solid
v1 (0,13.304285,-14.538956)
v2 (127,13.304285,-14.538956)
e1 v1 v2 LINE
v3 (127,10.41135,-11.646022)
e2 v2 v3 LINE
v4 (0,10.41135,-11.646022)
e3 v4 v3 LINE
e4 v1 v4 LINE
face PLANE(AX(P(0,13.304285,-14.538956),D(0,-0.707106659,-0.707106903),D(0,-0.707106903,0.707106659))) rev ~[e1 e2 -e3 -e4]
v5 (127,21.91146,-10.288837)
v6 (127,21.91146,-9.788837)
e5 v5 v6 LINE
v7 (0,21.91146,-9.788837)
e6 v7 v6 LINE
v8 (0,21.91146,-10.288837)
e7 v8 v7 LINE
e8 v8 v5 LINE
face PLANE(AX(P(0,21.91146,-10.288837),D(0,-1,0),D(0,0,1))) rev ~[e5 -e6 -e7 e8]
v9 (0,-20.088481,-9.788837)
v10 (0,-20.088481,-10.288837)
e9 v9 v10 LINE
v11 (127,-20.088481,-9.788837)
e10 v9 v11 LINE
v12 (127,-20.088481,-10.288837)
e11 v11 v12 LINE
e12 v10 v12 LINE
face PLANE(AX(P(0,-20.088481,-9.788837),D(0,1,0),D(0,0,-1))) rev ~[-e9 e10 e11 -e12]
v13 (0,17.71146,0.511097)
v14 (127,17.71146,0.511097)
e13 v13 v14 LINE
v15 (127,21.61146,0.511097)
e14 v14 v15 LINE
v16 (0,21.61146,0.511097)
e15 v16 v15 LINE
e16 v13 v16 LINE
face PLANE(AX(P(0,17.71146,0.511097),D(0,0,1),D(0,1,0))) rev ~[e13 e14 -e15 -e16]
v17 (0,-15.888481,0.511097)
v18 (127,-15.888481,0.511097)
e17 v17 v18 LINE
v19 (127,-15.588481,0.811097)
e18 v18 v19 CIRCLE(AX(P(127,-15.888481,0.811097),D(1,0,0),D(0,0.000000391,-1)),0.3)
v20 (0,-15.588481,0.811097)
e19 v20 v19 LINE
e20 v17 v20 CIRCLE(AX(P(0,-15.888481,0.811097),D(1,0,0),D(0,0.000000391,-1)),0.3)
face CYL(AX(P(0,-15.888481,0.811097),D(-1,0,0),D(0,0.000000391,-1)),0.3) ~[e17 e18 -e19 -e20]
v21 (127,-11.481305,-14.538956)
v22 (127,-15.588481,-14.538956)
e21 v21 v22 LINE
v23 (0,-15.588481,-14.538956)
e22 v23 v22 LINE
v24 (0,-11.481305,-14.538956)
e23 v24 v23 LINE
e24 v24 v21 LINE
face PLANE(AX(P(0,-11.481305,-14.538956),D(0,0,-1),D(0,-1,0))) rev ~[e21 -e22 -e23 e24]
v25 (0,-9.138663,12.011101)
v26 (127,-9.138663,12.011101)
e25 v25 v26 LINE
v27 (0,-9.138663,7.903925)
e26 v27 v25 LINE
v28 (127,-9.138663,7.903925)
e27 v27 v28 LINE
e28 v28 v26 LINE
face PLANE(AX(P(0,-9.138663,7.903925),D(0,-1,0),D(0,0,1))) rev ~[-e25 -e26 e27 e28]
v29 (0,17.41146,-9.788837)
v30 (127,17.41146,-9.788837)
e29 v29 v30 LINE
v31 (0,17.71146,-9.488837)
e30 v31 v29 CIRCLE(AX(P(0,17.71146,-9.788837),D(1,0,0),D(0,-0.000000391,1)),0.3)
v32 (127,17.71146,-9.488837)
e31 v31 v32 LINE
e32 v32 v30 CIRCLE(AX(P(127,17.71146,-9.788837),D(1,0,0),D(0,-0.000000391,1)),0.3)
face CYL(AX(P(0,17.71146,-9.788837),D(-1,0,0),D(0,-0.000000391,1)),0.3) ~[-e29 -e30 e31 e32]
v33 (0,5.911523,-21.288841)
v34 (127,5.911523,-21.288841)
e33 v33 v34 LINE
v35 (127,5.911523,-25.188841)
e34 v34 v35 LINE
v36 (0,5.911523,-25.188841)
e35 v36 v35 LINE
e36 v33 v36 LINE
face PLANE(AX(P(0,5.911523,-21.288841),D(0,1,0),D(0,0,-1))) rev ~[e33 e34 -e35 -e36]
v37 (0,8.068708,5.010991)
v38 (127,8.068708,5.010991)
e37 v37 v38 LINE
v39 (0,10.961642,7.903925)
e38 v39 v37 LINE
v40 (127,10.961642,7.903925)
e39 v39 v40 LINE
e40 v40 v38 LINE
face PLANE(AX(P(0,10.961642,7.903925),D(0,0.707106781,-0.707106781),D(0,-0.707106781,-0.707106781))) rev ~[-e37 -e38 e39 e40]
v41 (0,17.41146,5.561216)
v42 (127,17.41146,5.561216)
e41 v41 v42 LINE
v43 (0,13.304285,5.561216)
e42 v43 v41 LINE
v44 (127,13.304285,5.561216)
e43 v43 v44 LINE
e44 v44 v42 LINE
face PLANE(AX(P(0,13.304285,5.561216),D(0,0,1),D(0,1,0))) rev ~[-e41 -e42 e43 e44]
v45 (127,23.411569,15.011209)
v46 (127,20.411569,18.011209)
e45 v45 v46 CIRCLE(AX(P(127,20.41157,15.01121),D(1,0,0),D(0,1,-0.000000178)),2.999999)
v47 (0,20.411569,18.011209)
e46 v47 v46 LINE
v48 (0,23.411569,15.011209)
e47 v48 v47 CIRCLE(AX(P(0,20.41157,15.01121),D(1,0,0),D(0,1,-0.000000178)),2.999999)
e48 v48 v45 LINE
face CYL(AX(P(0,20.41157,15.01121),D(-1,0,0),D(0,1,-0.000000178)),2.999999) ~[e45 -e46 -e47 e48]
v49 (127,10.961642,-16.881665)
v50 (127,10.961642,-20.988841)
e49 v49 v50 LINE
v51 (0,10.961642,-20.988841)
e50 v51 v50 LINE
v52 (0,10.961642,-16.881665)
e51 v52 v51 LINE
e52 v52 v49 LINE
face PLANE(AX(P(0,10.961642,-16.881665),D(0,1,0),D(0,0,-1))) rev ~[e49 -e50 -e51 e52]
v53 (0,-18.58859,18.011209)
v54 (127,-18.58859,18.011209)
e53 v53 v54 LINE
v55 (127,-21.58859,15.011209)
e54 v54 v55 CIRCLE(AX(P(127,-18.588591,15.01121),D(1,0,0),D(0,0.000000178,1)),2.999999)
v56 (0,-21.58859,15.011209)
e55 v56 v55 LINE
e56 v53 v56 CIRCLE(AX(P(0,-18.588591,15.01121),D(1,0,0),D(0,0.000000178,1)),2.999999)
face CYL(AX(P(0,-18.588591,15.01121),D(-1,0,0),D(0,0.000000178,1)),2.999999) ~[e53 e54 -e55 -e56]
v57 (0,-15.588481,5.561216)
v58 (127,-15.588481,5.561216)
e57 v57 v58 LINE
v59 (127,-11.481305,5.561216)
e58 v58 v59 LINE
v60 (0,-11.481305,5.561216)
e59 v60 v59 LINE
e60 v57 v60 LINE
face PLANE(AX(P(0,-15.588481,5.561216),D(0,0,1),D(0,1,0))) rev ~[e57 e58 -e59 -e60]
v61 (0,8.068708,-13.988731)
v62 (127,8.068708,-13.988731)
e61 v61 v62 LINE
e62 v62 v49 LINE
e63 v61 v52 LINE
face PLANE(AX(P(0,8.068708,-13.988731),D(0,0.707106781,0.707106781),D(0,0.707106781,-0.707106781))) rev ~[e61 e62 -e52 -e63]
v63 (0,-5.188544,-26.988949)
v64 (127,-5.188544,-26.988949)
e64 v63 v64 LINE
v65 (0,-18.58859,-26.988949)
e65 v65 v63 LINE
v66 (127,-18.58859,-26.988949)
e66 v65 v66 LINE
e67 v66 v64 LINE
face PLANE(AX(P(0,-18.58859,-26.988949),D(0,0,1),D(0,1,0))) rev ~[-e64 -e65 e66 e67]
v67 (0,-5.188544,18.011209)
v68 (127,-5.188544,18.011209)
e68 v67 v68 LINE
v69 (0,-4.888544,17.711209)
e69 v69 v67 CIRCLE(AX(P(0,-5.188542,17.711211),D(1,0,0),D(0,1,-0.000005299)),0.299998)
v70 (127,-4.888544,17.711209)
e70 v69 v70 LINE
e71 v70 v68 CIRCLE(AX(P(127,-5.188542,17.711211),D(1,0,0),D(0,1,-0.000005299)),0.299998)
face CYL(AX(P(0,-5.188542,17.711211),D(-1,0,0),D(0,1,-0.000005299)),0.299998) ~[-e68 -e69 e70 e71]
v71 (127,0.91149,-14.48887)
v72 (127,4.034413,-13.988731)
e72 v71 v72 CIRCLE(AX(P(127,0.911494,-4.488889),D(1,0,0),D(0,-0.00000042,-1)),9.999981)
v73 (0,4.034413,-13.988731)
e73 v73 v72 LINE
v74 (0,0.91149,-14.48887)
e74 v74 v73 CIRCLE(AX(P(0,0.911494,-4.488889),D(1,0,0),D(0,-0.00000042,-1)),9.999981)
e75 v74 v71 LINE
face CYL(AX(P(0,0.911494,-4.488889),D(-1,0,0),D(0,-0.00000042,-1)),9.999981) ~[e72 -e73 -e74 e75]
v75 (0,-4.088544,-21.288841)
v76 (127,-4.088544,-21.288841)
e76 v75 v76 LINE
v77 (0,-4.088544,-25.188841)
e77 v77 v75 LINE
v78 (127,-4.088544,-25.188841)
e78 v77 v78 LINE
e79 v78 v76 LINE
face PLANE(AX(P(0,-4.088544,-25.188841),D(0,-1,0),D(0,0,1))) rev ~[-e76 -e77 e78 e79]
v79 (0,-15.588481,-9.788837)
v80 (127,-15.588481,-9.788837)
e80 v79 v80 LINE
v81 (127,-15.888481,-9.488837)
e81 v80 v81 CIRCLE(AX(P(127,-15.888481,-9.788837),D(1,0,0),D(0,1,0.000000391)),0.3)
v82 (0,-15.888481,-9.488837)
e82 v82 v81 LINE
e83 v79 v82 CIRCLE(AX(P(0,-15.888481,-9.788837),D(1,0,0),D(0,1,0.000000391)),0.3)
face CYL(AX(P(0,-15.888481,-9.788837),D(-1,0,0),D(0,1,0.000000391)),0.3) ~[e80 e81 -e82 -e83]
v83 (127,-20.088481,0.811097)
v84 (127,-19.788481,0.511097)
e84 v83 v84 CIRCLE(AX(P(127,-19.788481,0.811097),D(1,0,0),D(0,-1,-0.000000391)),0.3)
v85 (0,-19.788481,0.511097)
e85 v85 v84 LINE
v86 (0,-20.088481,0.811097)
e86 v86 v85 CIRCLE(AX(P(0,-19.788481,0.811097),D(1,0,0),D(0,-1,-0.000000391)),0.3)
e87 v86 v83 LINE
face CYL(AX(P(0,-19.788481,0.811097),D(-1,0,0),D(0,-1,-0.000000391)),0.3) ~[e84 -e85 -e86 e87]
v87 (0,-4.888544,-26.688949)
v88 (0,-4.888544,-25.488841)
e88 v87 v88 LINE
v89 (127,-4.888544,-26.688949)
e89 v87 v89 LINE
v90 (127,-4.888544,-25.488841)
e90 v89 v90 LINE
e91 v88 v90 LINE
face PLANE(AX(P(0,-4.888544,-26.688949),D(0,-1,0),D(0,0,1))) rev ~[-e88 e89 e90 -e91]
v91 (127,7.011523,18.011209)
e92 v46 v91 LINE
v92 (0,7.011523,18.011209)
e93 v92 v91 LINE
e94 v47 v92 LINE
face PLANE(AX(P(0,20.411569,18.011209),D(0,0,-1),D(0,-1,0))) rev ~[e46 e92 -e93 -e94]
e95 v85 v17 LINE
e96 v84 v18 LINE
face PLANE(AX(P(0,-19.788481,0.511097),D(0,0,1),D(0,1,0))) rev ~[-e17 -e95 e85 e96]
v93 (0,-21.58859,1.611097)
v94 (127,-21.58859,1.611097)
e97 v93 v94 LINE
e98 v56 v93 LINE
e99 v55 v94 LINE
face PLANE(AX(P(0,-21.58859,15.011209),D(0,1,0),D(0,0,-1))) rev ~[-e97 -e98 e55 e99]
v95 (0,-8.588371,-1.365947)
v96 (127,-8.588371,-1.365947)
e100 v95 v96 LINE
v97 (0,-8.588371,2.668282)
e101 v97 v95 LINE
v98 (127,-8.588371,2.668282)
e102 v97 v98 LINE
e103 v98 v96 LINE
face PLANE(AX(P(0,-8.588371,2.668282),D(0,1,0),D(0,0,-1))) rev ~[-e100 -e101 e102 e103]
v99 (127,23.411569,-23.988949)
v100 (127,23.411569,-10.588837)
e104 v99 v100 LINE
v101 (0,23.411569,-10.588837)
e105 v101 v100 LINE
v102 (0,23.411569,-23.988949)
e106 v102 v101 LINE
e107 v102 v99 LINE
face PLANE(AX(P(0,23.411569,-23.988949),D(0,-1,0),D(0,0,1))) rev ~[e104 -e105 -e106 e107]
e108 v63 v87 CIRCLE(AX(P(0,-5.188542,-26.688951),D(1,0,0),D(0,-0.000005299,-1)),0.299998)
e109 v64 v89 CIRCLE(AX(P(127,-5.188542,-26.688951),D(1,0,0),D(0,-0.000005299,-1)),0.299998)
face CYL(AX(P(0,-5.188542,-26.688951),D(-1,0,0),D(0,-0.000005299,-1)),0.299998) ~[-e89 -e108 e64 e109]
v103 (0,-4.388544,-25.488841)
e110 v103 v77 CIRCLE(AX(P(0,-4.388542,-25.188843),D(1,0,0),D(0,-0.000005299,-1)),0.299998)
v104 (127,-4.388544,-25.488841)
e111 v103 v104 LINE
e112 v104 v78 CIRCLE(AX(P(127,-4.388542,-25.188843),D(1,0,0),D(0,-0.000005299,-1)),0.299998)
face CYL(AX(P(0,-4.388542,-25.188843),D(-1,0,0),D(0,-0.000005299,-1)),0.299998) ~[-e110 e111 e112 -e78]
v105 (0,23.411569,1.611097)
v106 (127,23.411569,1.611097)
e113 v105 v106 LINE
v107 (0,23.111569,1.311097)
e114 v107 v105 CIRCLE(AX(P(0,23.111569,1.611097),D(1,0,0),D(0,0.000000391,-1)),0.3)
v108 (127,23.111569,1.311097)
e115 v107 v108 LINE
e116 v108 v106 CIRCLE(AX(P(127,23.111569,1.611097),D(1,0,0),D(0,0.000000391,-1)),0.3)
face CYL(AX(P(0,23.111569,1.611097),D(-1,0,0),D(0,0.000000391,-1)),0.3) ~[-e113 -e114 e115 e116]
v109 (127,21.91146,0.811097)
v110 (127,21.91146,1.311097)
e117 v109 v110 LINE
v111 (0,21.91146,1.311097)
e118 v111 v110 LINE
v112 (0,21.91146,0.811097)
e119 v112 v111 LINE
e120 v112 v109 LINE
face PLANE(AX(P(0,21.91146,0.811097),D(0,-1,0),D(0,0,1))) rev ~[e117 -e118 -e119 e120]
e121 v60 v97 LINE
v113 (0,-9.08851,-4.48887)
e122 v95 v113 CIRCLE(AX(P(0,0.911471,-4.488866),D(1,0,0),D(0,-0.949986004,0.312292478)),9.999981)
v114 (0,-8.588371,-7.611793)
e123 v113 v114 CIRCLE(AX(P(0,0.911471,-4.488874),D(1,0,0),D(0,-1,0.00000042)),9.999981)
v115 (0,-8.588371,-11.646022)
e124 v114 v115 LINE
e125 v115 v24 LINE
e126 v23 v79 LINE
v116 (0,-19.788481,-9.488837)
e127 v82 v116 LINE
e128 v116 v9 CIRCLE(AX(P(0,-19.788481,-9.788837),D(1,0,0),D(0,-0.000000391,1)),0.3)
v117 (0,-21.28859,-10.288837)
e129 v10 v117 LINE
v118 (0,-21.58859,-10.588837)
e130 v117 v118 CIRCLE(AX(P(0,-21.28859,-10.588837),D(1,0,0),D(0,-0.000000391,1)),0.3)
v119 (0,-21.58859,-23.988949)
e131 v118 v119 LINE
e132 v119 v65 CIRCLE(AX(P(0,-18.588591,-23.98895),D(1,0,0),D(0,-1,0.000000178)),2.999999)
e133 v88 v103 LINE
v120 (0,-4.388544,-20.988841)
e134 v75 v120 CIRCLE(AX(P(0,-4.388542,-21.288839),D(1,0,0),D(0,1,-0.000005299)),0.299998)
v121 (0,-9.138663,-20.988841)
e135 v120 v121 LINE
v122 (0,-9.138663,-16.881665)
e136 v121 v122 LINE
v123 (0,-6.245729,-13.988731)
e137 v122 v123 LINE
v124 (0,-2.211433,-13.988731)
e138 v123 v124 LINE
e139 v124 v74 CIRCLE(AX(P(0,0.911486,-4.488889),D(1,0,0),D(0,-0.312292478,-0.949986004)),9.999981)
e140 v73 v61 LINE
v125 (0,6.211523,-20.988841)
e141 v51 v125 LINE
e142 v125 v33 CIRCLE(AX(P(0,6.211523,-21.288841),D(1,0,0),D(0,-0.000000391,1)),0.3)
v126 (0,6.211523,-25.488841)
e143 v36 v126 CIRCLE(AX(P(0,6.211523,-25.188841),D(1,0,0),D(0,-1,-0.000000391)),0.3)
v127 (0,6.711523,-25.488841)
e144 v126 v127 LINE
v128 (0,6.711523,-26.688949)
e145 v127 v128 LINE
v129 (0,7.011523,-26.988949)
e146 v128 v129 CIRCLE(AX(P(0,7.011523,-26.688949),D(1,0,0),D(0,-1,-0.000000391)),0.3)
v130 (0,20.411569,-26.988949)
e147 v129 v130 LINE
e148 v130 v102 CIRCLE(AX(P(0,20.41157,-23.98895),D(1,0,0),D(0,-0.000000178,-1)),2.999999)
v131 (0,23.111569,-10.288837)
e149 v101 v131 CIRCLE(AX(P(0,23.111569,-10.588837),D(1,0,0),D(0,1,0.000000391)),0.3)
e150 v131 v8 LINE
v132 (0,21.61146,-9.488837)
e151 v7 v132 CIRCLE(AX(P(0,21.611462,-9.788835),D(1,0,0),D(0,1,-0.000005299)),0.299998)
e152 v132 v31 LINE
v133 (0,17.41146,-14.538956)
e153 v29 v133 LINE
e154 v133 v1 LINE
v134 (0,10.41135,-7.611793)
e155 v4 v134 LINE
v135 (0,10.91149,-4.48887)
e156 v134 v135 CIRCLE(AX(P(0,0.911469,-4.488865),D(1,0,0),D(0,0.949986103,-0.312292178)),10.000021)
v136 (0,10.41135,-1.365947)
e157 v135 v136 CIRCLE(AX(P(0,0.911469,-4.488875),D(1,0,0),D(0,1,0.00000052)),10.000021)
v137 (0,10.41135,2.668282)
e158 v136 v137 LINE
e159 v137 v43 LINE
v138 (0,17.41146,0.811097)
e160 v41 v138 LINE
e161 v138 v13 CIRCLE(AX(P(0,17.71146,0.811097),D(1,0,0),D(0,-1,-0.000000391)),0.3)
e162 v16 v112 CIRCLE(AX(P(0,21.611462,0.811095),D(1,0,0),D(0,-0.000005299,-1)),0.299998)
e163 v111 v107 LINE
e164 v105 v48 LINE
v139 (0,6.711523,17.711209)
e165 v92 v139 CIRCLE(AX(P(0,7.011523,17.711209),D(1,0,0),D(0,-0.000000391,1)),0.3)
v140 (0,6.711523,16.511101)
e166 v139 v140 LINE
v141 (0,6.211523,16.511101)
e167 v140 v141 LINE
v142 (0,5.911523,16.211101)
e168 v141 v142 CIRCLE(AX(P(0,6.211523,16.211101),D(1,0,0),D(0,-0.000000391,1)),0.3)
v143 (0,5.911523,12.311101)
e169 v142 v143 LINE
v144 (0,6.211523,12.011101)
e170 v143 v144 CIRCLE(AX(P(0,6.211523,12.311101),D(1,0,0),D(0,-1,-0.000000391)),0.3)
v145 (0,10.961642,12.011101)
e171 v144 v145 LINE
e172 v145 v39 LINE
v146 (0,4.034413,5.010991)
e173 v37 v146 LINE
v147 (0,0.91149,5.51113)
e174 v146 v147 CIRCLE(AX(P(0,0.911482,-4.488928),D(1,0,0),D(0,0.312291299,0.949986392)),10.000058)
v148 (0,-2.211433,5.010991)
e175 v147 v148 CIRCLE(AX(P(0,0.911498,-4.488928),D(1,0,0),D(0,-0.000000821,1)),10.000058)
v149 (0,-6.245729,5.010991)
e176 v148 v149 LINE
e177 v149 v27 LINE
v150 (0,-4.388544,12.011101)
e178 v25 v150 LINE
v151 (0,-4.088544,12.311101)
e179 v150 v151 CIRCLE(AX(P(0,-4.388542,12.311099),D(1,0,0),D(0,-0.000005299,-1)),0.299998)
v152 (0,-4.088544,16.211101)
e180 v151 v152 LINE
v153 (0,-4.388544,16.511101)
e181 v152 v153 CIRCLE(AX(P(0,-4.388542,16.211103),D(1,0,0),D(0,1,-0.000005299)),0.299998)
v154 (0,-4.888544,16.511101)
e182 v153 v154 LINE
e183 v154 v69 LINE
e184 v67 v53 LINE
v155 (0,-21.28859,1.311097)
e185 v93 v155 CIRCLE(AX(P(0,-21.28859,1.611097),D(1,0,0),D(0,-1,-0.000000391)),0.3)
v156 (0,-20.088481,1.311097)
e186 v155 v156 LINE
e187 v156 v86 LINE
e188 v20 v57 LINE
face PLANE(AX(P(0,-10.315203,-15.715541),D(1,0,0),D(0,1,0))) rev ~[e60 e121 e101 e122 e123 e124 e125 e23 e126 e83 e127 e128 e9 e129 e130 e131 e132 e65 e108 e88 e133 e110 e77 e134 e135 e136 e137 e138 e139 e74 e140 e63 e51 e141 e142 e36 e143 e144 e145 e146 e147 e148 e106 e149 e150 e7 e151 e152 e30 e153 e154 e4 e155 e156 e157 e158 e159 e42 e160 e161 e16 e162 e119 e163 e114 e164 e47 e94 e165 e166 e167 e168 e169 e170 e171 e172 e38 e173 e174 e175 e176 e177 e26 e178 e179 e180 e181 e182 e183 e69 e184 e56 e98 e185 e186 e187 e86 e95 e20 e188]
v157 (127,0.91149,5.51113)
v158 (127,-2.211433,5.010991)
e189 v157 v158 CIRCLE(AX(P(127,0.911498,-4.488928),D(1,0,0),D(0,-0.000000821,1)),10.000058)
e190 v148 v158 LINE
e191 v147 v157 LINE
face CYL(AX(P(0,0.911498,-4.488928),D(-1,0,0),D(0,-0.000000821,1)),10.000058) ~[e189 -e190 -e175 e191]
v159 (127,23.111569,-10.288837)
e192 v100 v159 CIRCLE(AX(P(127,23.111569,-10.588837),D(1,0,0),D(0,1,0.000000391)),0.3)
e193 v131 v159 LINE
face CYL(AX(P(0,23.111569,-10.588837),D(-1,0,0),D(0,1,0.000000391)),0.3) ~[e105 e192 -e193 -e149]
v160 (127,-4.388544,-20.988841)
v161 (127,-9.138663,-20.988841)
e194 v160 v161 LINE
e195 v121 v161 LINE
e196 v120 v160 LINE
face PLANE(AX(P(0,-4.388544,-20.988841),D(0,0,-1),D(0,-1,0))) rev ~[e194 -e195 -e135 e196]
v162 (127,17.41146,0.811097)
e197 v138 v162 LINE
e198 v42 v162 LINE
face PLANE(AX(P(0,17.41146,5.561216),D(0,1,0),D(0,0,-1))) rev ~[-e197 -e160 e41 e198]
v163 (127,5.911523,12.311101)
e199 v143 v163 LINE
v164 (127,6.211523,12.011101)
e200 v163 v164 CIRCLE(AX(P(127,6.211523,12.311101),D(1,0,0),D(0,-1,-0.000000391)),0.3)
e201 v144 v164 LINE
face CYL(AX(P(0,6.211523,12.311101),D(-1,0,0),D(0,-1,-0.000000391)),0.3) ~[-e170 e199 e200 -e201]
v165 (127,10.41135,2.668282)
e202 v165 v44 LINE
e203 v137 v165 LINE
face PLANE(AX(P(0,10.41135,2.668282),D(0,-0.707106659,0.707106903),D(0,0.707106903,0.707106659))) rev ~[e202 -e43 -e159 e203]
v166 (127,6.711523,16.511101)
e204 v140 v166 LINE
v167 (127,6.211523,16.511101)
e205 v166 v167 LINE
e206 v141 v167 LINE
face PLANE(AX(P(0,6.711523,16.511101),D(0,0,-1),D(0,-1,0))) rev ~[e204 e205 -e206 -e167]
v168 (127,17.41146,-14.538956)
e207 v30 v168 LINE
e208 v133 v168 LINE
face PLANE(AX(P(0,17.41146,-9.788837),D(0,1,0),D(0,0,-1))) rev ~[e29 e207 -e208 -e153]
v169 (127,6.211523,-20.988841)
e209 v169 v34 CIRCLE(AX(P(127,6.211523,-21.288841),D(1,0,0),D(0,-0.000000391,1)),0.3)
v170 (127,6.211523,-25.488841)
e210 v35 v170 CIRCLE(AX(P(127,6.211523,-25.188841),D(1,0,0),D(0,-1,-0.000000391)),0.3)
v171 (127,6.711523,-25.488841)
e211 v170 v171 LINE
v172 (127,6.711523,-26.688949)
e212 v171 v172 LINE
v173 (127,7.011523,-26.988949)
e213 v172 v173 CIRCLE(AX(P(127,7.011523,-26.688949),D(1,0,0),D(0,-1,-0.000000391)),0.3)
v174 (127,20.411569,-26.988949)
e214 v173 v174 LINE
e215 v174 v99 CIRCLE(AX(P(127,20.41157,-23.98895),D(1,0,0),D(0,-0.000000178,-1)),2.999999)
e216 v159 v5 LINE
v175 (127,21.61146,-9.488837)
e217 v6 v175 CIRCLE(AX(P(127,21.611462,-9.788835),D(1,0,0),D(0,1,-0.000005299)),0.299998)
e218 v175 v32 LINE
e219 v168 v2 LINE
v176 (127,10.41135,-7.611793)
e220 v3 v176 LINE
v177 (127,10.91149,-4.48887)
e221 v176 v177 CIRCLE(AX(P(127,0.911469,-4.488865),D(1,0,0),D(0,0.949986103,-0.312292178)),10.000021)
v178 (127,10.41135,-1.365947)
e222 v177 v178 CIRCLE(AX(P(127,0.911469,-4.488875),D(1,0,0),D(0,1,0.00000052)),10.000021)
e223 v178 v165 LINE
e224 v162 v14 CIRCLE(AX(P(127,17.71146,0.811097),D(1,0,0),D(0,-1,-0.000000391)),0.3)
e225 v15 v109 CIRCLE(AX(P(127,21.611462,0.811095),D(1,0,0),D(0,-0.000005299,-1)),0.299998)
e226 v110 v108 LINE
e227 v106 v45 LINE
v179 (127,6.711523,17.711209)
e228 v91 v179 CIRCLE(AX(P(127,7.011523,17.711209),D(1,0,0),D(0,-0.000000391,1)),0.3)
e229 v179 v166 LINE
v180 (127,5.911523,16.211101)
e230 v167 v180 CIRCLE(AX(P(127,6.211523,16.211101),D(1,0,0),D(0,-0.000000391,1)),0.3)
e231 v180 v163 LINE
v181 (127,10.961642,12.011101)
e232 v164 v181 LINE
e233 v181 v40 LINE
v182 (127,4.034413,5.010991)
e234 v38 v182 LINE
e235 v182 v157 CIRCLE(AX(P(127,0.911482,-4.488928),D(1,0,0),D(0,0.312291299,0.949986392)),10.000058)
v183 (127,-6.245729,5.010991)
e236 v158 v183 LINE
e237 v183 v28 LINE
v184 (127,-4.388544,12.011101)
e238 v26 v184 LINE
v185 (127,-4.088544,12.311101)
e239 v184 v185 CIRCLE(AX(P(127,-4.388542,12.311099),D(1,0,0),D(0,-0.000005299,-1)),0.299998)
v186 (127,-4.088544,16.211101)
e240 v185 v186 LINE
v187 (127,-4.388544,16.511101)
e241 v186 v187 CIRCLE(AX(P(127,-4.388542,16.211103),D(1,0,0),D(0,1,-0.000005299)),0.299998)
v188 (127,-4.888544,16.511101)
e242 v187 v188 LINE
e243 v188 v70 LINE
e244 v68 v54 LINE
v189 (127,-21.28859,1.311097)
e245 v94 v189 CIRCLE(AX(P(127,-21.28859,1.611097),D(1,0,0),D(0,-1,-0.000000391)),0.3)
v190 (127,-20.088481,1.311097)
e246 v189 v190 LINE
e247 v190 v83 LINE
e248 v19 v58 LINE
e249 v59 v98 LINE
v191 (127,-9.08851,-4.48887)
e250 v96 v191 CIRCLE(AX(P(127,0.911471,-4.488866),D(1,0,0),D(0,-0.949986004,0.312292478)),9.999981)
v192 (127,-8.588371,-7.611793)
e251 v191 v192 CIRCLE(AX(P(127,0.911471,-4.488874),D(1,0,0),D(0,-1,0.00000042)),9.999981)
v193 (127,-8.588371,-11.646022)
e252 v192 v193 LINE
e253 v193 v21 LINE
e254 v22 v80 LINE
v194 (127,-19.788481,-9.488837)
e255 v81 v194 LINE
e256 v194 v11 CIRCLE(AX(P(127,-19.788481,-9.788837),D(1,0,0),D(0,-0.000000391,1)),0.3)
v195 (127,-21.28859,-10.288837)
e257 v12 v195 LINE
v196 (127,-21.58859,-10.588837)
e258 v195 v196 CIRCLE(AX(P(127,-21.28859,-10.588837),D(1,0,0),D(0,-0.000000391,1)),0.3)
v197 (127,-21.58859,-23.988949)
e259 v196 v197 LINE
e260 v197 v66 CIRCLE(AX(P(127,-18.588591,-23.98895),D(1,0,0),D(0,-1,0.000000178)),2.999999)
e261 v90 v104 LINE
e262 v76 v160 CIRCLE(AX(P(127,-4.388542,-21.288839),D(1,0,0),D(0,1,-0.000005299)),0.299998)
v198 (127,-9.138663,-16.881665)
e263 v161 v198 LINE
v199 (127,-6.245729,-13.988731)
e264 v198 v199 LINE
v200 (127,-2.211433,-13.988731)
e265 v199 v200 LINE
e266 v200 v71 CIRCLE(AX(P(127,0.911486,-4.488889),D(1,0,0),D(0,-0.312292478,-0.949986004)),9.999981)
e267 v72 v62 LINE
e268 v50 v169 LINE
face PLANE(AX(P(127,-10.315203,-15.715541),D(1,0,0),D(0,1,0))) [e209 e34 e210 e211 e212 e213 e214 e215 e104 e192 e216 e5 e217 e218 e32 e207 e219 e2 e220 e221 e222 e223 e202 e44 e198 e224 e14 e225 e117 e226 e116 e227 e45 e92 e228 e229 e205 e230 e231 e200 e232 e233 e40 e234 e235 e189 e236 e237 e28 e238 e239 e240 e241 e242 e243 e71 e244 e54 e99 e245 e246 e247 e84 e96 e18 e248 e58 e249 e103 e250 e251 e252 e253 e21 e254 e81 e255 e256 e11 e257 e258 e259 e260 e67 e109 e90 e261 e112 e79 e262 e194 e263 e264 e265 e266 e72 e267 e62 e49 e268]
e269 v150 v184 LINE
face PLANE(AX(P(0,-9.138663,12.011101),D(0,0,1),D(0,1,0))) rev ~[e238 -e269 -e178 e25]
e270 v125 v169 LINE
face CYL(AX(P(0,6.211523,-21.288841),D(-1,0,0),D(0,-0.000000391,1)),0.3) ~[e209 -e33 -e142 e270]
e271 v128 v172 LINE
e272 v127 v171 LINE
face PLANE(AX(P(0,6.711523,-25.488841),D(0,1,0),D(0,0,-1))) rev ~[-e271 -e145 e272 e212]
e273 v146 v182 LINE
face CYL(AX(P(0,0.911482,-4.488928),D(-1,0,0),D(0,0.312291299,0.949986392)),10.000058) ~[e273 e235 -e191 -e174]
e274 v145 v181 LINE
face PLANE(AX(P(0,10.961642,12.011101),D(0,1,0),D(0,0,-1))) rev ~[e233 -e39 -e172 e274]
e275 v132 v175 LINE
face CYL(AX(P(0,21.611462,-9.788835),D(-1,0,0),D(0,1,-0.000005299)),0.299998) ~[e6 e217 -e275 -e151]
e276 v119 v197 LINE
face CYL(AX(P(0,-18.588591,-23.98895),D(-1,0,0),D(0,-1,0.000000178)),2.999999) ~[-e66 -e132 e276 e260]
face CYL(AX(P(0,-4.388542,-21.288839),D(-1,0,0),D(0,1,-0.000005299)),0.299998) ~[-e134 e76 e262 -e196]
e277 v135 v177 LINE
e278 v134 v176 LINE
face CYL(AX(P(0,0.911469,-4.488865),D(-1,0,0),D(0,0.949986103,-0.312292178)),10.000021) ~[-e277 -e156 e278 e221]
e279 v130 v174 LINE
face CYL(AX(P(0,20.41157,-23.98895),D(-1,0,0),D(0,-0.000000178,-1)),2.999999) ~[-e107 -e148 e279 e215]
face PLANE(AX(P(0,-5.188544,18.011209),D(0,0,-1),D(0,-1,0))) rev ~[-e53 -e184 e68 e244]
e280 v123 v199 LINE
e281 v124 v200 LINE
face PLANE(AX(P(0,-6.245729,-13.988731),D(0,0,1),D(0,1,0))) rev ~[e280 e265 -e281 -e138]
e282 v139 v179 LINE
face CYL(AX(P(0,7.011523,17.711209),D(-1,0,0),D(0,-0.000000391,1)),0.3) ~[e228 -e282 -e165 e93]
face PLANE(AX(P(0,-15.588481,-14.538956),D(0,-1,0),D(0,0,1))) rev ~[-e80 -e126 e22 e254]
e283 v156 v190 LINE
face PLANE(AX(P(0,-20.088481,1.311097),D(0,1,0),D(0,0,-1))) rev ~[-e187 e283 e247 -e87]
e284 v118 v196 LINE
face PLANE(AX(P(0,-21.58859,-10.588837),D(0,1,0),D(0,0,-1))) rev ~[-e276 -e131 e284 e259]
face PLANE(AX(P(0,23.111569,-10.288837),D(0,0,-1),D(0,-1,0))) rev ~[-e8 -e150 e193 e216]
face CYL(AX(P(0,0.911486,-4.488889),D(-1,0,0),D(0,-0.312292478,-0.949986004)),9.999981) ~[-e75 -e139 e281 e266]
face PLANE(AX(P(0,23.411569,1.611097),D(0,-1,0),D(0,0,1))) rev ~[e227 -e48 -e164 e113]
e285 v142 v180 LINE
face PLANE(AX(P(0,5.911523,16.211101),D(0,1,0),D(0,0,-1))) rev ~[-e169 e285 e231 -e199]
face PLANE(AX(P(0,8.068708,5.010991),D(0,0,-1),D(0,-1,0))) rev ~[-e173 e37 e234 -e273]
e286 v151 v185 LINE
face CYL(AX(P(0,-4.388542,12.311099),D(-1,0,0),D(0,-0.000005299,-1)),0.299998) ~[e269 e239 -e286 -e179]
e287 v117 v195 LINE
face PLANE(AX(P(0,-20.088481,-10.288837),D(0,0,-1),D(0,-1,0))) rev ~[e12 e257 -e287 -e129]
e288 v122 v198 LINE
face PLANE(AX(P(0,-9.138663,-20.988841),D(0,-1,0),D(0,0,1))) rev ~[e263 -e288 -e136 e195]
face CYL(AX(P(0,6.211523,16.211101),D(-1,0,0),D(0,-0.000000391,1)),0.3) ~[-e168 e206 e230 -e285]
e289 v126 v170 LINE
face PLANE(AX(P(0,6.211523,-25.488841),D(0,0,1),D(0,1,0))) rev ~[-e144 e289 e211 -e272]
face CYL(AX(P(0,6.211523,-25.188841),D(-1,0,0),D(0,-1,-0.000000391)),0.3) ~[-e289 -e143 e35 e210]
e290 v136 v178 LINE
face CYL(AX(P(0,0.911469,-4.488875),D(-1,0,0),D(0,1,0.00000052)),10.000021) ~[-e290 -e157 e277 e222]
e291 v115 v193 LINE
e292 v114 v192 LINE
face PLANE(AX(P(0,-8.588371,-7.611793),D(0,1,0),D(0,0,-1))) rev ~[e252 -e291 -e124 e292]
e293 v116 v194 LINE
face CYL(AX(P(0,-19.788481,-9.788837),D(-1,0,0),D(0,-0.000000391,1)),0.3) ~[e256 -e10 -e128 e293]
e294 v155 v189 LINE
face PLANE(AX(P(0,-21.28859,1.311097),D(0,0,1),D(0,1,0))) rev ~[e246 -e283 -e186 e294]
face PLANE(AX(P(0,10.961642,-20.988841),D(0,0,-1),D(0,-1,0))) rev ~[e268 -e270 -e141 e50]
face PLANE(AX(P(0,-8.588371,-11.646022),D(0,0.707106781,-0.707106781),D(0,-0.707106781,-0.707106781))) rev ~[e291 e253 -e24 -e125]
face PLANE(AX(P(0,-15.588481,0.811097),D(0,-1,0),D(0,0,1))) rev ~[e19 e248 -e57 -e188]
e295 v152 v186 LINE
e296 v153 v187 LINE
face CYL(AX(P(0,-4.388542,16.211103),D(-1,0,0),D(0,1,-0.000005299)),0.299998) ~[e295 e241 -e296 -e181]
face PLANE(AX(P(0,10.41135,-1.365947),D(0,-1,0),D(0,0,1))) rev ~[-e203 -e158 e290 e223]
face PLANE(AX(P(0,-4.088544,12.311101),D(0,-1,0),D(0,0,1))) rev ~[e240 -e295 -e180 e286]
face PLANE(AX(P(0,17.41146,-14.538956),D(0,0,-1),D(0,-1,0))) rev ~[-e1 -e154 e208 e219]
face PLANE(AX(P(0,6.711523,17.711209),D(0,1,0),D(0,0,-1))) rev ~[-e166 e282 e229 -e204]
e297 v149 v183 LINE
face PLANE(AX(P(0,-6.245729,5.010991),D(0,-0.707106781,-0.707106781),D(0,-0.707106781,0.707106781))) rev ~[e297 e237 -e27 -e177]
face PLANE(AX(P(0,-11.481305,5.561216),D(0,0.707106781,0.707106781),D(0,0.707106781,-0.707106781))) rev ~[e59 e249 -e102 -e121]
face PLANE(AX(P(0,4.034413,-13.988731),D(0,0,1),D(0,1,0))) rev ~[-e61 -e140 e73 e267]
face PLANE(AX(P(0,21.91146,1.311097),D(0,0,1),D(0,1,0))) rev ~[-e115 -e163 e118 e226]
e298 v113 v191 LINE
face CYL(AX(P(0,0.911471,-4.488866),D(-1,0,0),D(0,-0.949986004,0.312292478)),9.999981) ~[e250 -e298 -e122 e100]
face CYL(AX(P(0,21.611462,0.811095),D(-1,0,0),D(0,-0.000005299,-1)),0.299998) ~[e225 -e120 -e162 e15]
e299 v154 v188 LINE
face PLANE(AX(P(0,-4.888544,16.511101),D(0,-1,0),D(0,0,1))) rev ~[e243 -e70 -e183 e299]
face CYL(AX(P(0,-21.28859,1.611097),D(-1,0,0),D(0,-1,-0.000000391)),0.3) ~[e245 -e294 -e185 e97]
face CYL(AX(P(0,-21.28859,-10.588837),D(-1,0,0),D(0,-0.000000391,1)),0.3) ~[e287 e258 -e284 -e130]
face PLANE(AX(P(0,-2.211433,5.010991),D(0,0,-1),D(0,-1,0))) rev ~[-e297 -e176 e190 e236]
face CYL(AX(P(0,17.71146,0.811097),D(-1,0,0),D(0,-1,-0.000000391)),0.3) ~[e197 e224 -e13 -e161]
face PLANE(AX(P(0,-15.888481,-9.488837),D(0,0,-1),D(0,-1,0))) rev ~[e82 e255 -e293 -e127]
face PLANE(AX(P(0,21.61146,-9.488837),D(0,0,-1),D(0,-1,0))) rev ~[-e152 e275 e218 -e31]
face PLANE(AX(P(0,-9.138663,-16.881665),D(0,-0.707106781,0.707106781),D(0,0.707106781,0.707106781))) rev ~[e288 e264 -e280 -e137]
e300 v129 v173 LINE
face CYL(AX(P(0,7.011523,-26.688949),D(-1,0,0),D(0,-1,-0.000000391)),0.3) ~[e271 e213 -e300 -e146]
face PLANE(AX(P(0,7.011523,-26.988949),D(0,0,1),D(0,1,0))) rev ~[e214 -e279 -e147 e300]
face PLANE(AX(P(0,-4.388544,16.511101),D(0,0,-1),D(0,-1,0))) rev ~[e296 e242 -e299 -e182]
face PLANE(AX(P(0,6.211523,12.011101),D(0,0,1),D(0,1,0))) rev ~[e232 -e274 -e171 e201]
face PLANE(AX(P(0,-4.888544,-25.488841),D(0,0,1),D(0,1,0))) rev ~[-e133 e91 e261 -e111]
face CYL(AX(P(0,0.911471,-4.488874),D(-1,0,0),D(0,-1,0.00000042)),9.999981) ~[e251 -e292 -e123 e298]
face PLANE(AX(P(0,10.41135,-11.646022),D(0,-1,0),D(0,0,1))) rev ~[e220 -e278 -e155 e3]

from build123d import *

# Parameters (mm, degrees)
F1_DEPTH = 127


with BuildPart() as f1:
    # F0 (on Right) → F1 (new body)
    with BuildSketch(Plane.YZ):
        with BuildLine():
            Line((-20.088481, -9.788837), (-20.088481, -10.288837))
            Line((-20.088481, -10.288837), (-21.28859, -10.288837))
            ThreePointArc((-21.28859, -10.288837), (-21.500722, -10.376705), (-21.58859, -10.588837))
            Line((-21.58859, -10.588837), (-21.58859, -23.988949))
            ThreePointArc((-21.58859, -23.988949), (-20.70991, -26.11027), (-18.58859, -26.988949))
            Line((-18.58859, -26.988949), (-5.188544, -26.988949))
            ThreePointArc((-5.188544, -26.988949), (-4.976411, -26.901081), (-4.888544, -26.688949))
            Line((-4.888544, -26.688949), (-4.888544, -25.488841))
            Line((-4.888544, -25.488841), (-4.388544, -25.488841))
            ThreePointArc((-4.388544, -25.488841), (-4.176411, -25.400973), (-4.088544, -25.188841))
            Line((-4.088544, -25.188841), (-4.088544, -21.288841))
            ThreePointArc((-4.088544, -21.288841), (-4.176411, -21.076709), (-4.388544, -20.988841))
            Line((-4.388544, -20.988841), (-9.138663, -20.988841))
            Line((-9.138663, -20.988841), (-9.138663, -16.881665))
            Line((-9.138663, -16.881665), (-6.245729, -13.988731))
            Line((-6.245729, -13.988731), (-2.211433, -13.988731))
            ThreePointArc((-2.211433, -13.988731), (-0.669869, -14.363044), (0.91149, -14.48887))
            Line((0.91149, -14.48887), (0.91149, -4.48887))
            Line((0.91149, -4.48887), (-9.08851, -4.48887))
            ThreePointArc((-9.08851, -4.48887), (-8.962684, -6.070229), (-8.588371, -7.611793))
            Line((-8.588371, -7.611793), (-8.588371, -11.646022))
            Line((-8.588371, -11.646022), (-11.481305, -14.538956))
            Line((-11.481305, -14.538956), (-15.588481, -14.538956))
            Line((-15.588481, -14.538956), (-15.588481, -9.788837))
            ThreePointArc((-15.588481, -9.788837), (-15.676349, -9.576705), (-15.888481, -9.488837))
            Line((-15.888481, -9.488837), (-19.788481, -9.488837))
            ThreePointArc((-19.788481, -9.488837), (-20.000613, -9.576705), (-20.088481, -9.788837))
        make_face()
        with BuildLine():
            ThreePointArc((-8.588371, -1.365947), (-8.962684, -2.907511), (-9.08851, -4.48887))
            Line((-9.08851, -4.48887), (0.91149, -4.48887))
            Line((0.91149, -4.48887), (0.91149, 5.51113))
            ThreePointArc((0.91149, 5.51113), (-0.669869, 5.385303), (-2.211433, 5.010991))
            Line((-2.211433, 5.010991), (-6.245729, 5.010991))
            Line((-6.245729, 5.010991), (-9.138663, 7.903925))
            Line((-9.138663, 7.903925), (-9.138663, 12.011101))
            Line((-9.138663, 12.011101), (-4.388544, 12.011101))
            ThreePointArc((-4.388544, 12.011101), (-4.176411, 12.098969), (-4.088544, 12.311101))
            Line((-4.088544, 12.311101), (-4.088544, 16.211101))
            ThreePointArc((-4.088544, 16.211101), (-4.176411, 16.423233), (-4.388544, 16.511101))
            Line((-4.388544, 16.511101), (-4.888544, 16.511101))
            Line((-4.888544, 16.511101), (-4.888544, 17.711209))
            ThreePointArc((-4.888544, 17.711209), (-4.976411, 17.923341), (-5.188544, 18.011209))
            Line((-5.188544, 18.011209), (-18.58859, 18.011209))
            ThreePointArc((-18.58859, 18.011209), (-20.70991, 17.13253), (-21.58859, 15.011209))
            Line((-21.58859, 15.011209), (-21.58859, 1.611097))
            ThreePointArc((-21.58859, 1.611097), (-21.500722, 1.398965), (-21.28859, 1.311097))
            Line((-21.28859, 1.311097), (-20.088481, 1.311097))
            Line((-20.088481, 1.311097), (-20.088481, 0.811097))
            ThreePointArc((-20.088481, 0.811097), (-20.000613, 0.598965), (-19.788481, 0.511097))
            Line((-19.788481, 0.511097), (-15.888481, 0.511097))
            ThreePointArc((-15.888481, 0.511097), (-15.676349, 0.598965), (-15.588481, 0.811097))
            Line((-15.588481, 0.811097), (-15.588481, 5.561216))
            Line((-15.588481, 5.561216), (-11.481305, 5.561216))
            Line((-11.481305, 5.561216), (-8.588371, 2.668282))
            Line((-8.588371, 2.668282), (-8.588371, -1.365947))
        make_face()
        with BuildLine():
            Line((0.91149, 5.51113), (0.91149, -4.48887))
            Line((0.91149, -4.48887), (10.91149, -4.48887))
            ThreePointArc((10.91149, -4.48887), (10.785663, -2.907511), (10.41135, -1.365947))
            Line((10.41135, -1.365947), (10.41135, 2.668282))
            Line((10.41135, 2.668282), (13.304285, 5.561216))
            Line((13.304285, 5.561216), (14.016842, 5.561216))
            Line((14.016842, 5.561216), (17.41146, 5.561216))
            Line((17.41146, 5.561216), (17.41146, 0.811097))
            ThreePointArc((17.41146, 0.811097), (17.499328, 0.598965), (17.71146, 0.511097))
            Line((17.71146, 0.511097), (21.61146, 0.511097))
            ThreePointArc((21.61146, 0.511097), (21.823593, 0.598965), (21.91146, 0.811097))
            Line((21.91146, 0.811097), (21.91146, 1.311097))
            Line((21.91146, 1.311097), (23.111569, 1.311097))
            ThreePointArc((23.111569, 1.311097), (23.323701, 1.398965), (23.411569, 1.611097))
            Line((23.411569, 1.611097), (23.411569, 15.011209))
            ThreePointArc((23.411569, 15.011209), (22.532889, 17.13253), (20.411569, 18.011209))
            Line((20.411569, 18.011209), (7.011523, 18.011209))
            ThreePointArc((7.011523, 18.011209), (6.799391, 17.923341), (6.711523, 17.711209))
            Line((6.711523, 17.711209), (6.711523, 16.511101))
            Line((6.711523, 16.511101), (6.211523, 16.511101))
            ThreePointArc((6.211523, 16.511101), (5.999391, 16.423233), (5.911523, 16.211101))
            Line((5.911523, 16.211101), (5.911523, 12.311101))
            ThreePointArc((5.911523, 12.311101), (5.999391, 12.098969), (6.211523, 12.011101))
            Line((6.211523, 12.011101), (10.961642, 12.011101))
            Line((10.961642, 12.011101), (10.961642, 7.903925))
            Line((10.961642, 7.903925), (8.068708, 5.010991))
            Line((8.068708, 5.010991), (4.034413, 5.010991))
            ThreePointArc((4.034413, 5.010991), (2.492849, 5.385303), (0.91149, 5.51113))
        make_face()
        with BuildLine():
            Line((10.91149, -4.48887), (0.91149, -4.48887))
            Line((0.91149, -4.48887), (0.91149, -14.48887))
            ThreePointArc((0.91149, -14.48887), (2.492849, -14.363044), (4.034413, -13.988731))
            Line((4.034413, -13.988731), (8.068708, -13.988731))
            Line((8.068708, -13.988731), (10.961642, -16.881665))
            Line((10.961642, -16.881665), (10.961642, -20.988841))
            Line((10.961642, -20.988841), (6.211523, -20.988841))
            ThreePointArc((6.211523, -20.988841), (5.999391, -21.076709), (5.911523, -21.288841))
            Line((5.911523, -21.288841), (5.911523, -25.188841))
            ThreePointArc((5.911523, -25.188841), (5.999391, -25.400973), (6.211523, -25.488841))
            Line((6.211523, -25.488841), (6.711523, -25.488841))
            Line((6.711523, -25.488841), (6.711523, -26.688949))
            ThreePointArc((6.711523, -26.688949), (6.799391, -26.901081), (7.011523, -26.988949))
            Line((7.011523, -26.988949), (20.411569, -26.988949))
            ThreePointArc((20.411569, -26.988949), (22.532889, -26.11027), (23.411569, -23.988949))
            Line((23.411569, -23.988949), (23.411569, -10.588837))
            ThreePointArc((23.411569, -10.588837), (23.323701, -10.376705), (23.111569, -10.288837))
            Line((23.111569, -10.288837), (21.91146, -10.288837))
            Line((21.91146, -10.288837), (21.91146, -9.788837))
            ThreePointArc((21.91146, -9.788837), (21.823593, -9.576705), (21.61146, -9.488837))
            Line((21.61146, -9.488837), (17.71146, -9.488837))
            ThreePointArc((17.71146, -9.488837), (17.499328, -9.576705), (17.41146, -9.788837))
            Line((17.41146, -9.788837), (17.41146, -14.538956))
            Line((17.41146, -14.538956), (13.304285, -14.538956))
            Line((13.304285, -14.538956), (10.41135, -11.646022))
            Line((10.41135, -11.646022), (10.41135, -7.611793))
            ThreePointArc((10.41135, -7.611793), (10.785663, -6.070229), (10.91149, -4.48887))
        make_face()
    extrude(amount=F1_DEPTH)


solid = f1.part
